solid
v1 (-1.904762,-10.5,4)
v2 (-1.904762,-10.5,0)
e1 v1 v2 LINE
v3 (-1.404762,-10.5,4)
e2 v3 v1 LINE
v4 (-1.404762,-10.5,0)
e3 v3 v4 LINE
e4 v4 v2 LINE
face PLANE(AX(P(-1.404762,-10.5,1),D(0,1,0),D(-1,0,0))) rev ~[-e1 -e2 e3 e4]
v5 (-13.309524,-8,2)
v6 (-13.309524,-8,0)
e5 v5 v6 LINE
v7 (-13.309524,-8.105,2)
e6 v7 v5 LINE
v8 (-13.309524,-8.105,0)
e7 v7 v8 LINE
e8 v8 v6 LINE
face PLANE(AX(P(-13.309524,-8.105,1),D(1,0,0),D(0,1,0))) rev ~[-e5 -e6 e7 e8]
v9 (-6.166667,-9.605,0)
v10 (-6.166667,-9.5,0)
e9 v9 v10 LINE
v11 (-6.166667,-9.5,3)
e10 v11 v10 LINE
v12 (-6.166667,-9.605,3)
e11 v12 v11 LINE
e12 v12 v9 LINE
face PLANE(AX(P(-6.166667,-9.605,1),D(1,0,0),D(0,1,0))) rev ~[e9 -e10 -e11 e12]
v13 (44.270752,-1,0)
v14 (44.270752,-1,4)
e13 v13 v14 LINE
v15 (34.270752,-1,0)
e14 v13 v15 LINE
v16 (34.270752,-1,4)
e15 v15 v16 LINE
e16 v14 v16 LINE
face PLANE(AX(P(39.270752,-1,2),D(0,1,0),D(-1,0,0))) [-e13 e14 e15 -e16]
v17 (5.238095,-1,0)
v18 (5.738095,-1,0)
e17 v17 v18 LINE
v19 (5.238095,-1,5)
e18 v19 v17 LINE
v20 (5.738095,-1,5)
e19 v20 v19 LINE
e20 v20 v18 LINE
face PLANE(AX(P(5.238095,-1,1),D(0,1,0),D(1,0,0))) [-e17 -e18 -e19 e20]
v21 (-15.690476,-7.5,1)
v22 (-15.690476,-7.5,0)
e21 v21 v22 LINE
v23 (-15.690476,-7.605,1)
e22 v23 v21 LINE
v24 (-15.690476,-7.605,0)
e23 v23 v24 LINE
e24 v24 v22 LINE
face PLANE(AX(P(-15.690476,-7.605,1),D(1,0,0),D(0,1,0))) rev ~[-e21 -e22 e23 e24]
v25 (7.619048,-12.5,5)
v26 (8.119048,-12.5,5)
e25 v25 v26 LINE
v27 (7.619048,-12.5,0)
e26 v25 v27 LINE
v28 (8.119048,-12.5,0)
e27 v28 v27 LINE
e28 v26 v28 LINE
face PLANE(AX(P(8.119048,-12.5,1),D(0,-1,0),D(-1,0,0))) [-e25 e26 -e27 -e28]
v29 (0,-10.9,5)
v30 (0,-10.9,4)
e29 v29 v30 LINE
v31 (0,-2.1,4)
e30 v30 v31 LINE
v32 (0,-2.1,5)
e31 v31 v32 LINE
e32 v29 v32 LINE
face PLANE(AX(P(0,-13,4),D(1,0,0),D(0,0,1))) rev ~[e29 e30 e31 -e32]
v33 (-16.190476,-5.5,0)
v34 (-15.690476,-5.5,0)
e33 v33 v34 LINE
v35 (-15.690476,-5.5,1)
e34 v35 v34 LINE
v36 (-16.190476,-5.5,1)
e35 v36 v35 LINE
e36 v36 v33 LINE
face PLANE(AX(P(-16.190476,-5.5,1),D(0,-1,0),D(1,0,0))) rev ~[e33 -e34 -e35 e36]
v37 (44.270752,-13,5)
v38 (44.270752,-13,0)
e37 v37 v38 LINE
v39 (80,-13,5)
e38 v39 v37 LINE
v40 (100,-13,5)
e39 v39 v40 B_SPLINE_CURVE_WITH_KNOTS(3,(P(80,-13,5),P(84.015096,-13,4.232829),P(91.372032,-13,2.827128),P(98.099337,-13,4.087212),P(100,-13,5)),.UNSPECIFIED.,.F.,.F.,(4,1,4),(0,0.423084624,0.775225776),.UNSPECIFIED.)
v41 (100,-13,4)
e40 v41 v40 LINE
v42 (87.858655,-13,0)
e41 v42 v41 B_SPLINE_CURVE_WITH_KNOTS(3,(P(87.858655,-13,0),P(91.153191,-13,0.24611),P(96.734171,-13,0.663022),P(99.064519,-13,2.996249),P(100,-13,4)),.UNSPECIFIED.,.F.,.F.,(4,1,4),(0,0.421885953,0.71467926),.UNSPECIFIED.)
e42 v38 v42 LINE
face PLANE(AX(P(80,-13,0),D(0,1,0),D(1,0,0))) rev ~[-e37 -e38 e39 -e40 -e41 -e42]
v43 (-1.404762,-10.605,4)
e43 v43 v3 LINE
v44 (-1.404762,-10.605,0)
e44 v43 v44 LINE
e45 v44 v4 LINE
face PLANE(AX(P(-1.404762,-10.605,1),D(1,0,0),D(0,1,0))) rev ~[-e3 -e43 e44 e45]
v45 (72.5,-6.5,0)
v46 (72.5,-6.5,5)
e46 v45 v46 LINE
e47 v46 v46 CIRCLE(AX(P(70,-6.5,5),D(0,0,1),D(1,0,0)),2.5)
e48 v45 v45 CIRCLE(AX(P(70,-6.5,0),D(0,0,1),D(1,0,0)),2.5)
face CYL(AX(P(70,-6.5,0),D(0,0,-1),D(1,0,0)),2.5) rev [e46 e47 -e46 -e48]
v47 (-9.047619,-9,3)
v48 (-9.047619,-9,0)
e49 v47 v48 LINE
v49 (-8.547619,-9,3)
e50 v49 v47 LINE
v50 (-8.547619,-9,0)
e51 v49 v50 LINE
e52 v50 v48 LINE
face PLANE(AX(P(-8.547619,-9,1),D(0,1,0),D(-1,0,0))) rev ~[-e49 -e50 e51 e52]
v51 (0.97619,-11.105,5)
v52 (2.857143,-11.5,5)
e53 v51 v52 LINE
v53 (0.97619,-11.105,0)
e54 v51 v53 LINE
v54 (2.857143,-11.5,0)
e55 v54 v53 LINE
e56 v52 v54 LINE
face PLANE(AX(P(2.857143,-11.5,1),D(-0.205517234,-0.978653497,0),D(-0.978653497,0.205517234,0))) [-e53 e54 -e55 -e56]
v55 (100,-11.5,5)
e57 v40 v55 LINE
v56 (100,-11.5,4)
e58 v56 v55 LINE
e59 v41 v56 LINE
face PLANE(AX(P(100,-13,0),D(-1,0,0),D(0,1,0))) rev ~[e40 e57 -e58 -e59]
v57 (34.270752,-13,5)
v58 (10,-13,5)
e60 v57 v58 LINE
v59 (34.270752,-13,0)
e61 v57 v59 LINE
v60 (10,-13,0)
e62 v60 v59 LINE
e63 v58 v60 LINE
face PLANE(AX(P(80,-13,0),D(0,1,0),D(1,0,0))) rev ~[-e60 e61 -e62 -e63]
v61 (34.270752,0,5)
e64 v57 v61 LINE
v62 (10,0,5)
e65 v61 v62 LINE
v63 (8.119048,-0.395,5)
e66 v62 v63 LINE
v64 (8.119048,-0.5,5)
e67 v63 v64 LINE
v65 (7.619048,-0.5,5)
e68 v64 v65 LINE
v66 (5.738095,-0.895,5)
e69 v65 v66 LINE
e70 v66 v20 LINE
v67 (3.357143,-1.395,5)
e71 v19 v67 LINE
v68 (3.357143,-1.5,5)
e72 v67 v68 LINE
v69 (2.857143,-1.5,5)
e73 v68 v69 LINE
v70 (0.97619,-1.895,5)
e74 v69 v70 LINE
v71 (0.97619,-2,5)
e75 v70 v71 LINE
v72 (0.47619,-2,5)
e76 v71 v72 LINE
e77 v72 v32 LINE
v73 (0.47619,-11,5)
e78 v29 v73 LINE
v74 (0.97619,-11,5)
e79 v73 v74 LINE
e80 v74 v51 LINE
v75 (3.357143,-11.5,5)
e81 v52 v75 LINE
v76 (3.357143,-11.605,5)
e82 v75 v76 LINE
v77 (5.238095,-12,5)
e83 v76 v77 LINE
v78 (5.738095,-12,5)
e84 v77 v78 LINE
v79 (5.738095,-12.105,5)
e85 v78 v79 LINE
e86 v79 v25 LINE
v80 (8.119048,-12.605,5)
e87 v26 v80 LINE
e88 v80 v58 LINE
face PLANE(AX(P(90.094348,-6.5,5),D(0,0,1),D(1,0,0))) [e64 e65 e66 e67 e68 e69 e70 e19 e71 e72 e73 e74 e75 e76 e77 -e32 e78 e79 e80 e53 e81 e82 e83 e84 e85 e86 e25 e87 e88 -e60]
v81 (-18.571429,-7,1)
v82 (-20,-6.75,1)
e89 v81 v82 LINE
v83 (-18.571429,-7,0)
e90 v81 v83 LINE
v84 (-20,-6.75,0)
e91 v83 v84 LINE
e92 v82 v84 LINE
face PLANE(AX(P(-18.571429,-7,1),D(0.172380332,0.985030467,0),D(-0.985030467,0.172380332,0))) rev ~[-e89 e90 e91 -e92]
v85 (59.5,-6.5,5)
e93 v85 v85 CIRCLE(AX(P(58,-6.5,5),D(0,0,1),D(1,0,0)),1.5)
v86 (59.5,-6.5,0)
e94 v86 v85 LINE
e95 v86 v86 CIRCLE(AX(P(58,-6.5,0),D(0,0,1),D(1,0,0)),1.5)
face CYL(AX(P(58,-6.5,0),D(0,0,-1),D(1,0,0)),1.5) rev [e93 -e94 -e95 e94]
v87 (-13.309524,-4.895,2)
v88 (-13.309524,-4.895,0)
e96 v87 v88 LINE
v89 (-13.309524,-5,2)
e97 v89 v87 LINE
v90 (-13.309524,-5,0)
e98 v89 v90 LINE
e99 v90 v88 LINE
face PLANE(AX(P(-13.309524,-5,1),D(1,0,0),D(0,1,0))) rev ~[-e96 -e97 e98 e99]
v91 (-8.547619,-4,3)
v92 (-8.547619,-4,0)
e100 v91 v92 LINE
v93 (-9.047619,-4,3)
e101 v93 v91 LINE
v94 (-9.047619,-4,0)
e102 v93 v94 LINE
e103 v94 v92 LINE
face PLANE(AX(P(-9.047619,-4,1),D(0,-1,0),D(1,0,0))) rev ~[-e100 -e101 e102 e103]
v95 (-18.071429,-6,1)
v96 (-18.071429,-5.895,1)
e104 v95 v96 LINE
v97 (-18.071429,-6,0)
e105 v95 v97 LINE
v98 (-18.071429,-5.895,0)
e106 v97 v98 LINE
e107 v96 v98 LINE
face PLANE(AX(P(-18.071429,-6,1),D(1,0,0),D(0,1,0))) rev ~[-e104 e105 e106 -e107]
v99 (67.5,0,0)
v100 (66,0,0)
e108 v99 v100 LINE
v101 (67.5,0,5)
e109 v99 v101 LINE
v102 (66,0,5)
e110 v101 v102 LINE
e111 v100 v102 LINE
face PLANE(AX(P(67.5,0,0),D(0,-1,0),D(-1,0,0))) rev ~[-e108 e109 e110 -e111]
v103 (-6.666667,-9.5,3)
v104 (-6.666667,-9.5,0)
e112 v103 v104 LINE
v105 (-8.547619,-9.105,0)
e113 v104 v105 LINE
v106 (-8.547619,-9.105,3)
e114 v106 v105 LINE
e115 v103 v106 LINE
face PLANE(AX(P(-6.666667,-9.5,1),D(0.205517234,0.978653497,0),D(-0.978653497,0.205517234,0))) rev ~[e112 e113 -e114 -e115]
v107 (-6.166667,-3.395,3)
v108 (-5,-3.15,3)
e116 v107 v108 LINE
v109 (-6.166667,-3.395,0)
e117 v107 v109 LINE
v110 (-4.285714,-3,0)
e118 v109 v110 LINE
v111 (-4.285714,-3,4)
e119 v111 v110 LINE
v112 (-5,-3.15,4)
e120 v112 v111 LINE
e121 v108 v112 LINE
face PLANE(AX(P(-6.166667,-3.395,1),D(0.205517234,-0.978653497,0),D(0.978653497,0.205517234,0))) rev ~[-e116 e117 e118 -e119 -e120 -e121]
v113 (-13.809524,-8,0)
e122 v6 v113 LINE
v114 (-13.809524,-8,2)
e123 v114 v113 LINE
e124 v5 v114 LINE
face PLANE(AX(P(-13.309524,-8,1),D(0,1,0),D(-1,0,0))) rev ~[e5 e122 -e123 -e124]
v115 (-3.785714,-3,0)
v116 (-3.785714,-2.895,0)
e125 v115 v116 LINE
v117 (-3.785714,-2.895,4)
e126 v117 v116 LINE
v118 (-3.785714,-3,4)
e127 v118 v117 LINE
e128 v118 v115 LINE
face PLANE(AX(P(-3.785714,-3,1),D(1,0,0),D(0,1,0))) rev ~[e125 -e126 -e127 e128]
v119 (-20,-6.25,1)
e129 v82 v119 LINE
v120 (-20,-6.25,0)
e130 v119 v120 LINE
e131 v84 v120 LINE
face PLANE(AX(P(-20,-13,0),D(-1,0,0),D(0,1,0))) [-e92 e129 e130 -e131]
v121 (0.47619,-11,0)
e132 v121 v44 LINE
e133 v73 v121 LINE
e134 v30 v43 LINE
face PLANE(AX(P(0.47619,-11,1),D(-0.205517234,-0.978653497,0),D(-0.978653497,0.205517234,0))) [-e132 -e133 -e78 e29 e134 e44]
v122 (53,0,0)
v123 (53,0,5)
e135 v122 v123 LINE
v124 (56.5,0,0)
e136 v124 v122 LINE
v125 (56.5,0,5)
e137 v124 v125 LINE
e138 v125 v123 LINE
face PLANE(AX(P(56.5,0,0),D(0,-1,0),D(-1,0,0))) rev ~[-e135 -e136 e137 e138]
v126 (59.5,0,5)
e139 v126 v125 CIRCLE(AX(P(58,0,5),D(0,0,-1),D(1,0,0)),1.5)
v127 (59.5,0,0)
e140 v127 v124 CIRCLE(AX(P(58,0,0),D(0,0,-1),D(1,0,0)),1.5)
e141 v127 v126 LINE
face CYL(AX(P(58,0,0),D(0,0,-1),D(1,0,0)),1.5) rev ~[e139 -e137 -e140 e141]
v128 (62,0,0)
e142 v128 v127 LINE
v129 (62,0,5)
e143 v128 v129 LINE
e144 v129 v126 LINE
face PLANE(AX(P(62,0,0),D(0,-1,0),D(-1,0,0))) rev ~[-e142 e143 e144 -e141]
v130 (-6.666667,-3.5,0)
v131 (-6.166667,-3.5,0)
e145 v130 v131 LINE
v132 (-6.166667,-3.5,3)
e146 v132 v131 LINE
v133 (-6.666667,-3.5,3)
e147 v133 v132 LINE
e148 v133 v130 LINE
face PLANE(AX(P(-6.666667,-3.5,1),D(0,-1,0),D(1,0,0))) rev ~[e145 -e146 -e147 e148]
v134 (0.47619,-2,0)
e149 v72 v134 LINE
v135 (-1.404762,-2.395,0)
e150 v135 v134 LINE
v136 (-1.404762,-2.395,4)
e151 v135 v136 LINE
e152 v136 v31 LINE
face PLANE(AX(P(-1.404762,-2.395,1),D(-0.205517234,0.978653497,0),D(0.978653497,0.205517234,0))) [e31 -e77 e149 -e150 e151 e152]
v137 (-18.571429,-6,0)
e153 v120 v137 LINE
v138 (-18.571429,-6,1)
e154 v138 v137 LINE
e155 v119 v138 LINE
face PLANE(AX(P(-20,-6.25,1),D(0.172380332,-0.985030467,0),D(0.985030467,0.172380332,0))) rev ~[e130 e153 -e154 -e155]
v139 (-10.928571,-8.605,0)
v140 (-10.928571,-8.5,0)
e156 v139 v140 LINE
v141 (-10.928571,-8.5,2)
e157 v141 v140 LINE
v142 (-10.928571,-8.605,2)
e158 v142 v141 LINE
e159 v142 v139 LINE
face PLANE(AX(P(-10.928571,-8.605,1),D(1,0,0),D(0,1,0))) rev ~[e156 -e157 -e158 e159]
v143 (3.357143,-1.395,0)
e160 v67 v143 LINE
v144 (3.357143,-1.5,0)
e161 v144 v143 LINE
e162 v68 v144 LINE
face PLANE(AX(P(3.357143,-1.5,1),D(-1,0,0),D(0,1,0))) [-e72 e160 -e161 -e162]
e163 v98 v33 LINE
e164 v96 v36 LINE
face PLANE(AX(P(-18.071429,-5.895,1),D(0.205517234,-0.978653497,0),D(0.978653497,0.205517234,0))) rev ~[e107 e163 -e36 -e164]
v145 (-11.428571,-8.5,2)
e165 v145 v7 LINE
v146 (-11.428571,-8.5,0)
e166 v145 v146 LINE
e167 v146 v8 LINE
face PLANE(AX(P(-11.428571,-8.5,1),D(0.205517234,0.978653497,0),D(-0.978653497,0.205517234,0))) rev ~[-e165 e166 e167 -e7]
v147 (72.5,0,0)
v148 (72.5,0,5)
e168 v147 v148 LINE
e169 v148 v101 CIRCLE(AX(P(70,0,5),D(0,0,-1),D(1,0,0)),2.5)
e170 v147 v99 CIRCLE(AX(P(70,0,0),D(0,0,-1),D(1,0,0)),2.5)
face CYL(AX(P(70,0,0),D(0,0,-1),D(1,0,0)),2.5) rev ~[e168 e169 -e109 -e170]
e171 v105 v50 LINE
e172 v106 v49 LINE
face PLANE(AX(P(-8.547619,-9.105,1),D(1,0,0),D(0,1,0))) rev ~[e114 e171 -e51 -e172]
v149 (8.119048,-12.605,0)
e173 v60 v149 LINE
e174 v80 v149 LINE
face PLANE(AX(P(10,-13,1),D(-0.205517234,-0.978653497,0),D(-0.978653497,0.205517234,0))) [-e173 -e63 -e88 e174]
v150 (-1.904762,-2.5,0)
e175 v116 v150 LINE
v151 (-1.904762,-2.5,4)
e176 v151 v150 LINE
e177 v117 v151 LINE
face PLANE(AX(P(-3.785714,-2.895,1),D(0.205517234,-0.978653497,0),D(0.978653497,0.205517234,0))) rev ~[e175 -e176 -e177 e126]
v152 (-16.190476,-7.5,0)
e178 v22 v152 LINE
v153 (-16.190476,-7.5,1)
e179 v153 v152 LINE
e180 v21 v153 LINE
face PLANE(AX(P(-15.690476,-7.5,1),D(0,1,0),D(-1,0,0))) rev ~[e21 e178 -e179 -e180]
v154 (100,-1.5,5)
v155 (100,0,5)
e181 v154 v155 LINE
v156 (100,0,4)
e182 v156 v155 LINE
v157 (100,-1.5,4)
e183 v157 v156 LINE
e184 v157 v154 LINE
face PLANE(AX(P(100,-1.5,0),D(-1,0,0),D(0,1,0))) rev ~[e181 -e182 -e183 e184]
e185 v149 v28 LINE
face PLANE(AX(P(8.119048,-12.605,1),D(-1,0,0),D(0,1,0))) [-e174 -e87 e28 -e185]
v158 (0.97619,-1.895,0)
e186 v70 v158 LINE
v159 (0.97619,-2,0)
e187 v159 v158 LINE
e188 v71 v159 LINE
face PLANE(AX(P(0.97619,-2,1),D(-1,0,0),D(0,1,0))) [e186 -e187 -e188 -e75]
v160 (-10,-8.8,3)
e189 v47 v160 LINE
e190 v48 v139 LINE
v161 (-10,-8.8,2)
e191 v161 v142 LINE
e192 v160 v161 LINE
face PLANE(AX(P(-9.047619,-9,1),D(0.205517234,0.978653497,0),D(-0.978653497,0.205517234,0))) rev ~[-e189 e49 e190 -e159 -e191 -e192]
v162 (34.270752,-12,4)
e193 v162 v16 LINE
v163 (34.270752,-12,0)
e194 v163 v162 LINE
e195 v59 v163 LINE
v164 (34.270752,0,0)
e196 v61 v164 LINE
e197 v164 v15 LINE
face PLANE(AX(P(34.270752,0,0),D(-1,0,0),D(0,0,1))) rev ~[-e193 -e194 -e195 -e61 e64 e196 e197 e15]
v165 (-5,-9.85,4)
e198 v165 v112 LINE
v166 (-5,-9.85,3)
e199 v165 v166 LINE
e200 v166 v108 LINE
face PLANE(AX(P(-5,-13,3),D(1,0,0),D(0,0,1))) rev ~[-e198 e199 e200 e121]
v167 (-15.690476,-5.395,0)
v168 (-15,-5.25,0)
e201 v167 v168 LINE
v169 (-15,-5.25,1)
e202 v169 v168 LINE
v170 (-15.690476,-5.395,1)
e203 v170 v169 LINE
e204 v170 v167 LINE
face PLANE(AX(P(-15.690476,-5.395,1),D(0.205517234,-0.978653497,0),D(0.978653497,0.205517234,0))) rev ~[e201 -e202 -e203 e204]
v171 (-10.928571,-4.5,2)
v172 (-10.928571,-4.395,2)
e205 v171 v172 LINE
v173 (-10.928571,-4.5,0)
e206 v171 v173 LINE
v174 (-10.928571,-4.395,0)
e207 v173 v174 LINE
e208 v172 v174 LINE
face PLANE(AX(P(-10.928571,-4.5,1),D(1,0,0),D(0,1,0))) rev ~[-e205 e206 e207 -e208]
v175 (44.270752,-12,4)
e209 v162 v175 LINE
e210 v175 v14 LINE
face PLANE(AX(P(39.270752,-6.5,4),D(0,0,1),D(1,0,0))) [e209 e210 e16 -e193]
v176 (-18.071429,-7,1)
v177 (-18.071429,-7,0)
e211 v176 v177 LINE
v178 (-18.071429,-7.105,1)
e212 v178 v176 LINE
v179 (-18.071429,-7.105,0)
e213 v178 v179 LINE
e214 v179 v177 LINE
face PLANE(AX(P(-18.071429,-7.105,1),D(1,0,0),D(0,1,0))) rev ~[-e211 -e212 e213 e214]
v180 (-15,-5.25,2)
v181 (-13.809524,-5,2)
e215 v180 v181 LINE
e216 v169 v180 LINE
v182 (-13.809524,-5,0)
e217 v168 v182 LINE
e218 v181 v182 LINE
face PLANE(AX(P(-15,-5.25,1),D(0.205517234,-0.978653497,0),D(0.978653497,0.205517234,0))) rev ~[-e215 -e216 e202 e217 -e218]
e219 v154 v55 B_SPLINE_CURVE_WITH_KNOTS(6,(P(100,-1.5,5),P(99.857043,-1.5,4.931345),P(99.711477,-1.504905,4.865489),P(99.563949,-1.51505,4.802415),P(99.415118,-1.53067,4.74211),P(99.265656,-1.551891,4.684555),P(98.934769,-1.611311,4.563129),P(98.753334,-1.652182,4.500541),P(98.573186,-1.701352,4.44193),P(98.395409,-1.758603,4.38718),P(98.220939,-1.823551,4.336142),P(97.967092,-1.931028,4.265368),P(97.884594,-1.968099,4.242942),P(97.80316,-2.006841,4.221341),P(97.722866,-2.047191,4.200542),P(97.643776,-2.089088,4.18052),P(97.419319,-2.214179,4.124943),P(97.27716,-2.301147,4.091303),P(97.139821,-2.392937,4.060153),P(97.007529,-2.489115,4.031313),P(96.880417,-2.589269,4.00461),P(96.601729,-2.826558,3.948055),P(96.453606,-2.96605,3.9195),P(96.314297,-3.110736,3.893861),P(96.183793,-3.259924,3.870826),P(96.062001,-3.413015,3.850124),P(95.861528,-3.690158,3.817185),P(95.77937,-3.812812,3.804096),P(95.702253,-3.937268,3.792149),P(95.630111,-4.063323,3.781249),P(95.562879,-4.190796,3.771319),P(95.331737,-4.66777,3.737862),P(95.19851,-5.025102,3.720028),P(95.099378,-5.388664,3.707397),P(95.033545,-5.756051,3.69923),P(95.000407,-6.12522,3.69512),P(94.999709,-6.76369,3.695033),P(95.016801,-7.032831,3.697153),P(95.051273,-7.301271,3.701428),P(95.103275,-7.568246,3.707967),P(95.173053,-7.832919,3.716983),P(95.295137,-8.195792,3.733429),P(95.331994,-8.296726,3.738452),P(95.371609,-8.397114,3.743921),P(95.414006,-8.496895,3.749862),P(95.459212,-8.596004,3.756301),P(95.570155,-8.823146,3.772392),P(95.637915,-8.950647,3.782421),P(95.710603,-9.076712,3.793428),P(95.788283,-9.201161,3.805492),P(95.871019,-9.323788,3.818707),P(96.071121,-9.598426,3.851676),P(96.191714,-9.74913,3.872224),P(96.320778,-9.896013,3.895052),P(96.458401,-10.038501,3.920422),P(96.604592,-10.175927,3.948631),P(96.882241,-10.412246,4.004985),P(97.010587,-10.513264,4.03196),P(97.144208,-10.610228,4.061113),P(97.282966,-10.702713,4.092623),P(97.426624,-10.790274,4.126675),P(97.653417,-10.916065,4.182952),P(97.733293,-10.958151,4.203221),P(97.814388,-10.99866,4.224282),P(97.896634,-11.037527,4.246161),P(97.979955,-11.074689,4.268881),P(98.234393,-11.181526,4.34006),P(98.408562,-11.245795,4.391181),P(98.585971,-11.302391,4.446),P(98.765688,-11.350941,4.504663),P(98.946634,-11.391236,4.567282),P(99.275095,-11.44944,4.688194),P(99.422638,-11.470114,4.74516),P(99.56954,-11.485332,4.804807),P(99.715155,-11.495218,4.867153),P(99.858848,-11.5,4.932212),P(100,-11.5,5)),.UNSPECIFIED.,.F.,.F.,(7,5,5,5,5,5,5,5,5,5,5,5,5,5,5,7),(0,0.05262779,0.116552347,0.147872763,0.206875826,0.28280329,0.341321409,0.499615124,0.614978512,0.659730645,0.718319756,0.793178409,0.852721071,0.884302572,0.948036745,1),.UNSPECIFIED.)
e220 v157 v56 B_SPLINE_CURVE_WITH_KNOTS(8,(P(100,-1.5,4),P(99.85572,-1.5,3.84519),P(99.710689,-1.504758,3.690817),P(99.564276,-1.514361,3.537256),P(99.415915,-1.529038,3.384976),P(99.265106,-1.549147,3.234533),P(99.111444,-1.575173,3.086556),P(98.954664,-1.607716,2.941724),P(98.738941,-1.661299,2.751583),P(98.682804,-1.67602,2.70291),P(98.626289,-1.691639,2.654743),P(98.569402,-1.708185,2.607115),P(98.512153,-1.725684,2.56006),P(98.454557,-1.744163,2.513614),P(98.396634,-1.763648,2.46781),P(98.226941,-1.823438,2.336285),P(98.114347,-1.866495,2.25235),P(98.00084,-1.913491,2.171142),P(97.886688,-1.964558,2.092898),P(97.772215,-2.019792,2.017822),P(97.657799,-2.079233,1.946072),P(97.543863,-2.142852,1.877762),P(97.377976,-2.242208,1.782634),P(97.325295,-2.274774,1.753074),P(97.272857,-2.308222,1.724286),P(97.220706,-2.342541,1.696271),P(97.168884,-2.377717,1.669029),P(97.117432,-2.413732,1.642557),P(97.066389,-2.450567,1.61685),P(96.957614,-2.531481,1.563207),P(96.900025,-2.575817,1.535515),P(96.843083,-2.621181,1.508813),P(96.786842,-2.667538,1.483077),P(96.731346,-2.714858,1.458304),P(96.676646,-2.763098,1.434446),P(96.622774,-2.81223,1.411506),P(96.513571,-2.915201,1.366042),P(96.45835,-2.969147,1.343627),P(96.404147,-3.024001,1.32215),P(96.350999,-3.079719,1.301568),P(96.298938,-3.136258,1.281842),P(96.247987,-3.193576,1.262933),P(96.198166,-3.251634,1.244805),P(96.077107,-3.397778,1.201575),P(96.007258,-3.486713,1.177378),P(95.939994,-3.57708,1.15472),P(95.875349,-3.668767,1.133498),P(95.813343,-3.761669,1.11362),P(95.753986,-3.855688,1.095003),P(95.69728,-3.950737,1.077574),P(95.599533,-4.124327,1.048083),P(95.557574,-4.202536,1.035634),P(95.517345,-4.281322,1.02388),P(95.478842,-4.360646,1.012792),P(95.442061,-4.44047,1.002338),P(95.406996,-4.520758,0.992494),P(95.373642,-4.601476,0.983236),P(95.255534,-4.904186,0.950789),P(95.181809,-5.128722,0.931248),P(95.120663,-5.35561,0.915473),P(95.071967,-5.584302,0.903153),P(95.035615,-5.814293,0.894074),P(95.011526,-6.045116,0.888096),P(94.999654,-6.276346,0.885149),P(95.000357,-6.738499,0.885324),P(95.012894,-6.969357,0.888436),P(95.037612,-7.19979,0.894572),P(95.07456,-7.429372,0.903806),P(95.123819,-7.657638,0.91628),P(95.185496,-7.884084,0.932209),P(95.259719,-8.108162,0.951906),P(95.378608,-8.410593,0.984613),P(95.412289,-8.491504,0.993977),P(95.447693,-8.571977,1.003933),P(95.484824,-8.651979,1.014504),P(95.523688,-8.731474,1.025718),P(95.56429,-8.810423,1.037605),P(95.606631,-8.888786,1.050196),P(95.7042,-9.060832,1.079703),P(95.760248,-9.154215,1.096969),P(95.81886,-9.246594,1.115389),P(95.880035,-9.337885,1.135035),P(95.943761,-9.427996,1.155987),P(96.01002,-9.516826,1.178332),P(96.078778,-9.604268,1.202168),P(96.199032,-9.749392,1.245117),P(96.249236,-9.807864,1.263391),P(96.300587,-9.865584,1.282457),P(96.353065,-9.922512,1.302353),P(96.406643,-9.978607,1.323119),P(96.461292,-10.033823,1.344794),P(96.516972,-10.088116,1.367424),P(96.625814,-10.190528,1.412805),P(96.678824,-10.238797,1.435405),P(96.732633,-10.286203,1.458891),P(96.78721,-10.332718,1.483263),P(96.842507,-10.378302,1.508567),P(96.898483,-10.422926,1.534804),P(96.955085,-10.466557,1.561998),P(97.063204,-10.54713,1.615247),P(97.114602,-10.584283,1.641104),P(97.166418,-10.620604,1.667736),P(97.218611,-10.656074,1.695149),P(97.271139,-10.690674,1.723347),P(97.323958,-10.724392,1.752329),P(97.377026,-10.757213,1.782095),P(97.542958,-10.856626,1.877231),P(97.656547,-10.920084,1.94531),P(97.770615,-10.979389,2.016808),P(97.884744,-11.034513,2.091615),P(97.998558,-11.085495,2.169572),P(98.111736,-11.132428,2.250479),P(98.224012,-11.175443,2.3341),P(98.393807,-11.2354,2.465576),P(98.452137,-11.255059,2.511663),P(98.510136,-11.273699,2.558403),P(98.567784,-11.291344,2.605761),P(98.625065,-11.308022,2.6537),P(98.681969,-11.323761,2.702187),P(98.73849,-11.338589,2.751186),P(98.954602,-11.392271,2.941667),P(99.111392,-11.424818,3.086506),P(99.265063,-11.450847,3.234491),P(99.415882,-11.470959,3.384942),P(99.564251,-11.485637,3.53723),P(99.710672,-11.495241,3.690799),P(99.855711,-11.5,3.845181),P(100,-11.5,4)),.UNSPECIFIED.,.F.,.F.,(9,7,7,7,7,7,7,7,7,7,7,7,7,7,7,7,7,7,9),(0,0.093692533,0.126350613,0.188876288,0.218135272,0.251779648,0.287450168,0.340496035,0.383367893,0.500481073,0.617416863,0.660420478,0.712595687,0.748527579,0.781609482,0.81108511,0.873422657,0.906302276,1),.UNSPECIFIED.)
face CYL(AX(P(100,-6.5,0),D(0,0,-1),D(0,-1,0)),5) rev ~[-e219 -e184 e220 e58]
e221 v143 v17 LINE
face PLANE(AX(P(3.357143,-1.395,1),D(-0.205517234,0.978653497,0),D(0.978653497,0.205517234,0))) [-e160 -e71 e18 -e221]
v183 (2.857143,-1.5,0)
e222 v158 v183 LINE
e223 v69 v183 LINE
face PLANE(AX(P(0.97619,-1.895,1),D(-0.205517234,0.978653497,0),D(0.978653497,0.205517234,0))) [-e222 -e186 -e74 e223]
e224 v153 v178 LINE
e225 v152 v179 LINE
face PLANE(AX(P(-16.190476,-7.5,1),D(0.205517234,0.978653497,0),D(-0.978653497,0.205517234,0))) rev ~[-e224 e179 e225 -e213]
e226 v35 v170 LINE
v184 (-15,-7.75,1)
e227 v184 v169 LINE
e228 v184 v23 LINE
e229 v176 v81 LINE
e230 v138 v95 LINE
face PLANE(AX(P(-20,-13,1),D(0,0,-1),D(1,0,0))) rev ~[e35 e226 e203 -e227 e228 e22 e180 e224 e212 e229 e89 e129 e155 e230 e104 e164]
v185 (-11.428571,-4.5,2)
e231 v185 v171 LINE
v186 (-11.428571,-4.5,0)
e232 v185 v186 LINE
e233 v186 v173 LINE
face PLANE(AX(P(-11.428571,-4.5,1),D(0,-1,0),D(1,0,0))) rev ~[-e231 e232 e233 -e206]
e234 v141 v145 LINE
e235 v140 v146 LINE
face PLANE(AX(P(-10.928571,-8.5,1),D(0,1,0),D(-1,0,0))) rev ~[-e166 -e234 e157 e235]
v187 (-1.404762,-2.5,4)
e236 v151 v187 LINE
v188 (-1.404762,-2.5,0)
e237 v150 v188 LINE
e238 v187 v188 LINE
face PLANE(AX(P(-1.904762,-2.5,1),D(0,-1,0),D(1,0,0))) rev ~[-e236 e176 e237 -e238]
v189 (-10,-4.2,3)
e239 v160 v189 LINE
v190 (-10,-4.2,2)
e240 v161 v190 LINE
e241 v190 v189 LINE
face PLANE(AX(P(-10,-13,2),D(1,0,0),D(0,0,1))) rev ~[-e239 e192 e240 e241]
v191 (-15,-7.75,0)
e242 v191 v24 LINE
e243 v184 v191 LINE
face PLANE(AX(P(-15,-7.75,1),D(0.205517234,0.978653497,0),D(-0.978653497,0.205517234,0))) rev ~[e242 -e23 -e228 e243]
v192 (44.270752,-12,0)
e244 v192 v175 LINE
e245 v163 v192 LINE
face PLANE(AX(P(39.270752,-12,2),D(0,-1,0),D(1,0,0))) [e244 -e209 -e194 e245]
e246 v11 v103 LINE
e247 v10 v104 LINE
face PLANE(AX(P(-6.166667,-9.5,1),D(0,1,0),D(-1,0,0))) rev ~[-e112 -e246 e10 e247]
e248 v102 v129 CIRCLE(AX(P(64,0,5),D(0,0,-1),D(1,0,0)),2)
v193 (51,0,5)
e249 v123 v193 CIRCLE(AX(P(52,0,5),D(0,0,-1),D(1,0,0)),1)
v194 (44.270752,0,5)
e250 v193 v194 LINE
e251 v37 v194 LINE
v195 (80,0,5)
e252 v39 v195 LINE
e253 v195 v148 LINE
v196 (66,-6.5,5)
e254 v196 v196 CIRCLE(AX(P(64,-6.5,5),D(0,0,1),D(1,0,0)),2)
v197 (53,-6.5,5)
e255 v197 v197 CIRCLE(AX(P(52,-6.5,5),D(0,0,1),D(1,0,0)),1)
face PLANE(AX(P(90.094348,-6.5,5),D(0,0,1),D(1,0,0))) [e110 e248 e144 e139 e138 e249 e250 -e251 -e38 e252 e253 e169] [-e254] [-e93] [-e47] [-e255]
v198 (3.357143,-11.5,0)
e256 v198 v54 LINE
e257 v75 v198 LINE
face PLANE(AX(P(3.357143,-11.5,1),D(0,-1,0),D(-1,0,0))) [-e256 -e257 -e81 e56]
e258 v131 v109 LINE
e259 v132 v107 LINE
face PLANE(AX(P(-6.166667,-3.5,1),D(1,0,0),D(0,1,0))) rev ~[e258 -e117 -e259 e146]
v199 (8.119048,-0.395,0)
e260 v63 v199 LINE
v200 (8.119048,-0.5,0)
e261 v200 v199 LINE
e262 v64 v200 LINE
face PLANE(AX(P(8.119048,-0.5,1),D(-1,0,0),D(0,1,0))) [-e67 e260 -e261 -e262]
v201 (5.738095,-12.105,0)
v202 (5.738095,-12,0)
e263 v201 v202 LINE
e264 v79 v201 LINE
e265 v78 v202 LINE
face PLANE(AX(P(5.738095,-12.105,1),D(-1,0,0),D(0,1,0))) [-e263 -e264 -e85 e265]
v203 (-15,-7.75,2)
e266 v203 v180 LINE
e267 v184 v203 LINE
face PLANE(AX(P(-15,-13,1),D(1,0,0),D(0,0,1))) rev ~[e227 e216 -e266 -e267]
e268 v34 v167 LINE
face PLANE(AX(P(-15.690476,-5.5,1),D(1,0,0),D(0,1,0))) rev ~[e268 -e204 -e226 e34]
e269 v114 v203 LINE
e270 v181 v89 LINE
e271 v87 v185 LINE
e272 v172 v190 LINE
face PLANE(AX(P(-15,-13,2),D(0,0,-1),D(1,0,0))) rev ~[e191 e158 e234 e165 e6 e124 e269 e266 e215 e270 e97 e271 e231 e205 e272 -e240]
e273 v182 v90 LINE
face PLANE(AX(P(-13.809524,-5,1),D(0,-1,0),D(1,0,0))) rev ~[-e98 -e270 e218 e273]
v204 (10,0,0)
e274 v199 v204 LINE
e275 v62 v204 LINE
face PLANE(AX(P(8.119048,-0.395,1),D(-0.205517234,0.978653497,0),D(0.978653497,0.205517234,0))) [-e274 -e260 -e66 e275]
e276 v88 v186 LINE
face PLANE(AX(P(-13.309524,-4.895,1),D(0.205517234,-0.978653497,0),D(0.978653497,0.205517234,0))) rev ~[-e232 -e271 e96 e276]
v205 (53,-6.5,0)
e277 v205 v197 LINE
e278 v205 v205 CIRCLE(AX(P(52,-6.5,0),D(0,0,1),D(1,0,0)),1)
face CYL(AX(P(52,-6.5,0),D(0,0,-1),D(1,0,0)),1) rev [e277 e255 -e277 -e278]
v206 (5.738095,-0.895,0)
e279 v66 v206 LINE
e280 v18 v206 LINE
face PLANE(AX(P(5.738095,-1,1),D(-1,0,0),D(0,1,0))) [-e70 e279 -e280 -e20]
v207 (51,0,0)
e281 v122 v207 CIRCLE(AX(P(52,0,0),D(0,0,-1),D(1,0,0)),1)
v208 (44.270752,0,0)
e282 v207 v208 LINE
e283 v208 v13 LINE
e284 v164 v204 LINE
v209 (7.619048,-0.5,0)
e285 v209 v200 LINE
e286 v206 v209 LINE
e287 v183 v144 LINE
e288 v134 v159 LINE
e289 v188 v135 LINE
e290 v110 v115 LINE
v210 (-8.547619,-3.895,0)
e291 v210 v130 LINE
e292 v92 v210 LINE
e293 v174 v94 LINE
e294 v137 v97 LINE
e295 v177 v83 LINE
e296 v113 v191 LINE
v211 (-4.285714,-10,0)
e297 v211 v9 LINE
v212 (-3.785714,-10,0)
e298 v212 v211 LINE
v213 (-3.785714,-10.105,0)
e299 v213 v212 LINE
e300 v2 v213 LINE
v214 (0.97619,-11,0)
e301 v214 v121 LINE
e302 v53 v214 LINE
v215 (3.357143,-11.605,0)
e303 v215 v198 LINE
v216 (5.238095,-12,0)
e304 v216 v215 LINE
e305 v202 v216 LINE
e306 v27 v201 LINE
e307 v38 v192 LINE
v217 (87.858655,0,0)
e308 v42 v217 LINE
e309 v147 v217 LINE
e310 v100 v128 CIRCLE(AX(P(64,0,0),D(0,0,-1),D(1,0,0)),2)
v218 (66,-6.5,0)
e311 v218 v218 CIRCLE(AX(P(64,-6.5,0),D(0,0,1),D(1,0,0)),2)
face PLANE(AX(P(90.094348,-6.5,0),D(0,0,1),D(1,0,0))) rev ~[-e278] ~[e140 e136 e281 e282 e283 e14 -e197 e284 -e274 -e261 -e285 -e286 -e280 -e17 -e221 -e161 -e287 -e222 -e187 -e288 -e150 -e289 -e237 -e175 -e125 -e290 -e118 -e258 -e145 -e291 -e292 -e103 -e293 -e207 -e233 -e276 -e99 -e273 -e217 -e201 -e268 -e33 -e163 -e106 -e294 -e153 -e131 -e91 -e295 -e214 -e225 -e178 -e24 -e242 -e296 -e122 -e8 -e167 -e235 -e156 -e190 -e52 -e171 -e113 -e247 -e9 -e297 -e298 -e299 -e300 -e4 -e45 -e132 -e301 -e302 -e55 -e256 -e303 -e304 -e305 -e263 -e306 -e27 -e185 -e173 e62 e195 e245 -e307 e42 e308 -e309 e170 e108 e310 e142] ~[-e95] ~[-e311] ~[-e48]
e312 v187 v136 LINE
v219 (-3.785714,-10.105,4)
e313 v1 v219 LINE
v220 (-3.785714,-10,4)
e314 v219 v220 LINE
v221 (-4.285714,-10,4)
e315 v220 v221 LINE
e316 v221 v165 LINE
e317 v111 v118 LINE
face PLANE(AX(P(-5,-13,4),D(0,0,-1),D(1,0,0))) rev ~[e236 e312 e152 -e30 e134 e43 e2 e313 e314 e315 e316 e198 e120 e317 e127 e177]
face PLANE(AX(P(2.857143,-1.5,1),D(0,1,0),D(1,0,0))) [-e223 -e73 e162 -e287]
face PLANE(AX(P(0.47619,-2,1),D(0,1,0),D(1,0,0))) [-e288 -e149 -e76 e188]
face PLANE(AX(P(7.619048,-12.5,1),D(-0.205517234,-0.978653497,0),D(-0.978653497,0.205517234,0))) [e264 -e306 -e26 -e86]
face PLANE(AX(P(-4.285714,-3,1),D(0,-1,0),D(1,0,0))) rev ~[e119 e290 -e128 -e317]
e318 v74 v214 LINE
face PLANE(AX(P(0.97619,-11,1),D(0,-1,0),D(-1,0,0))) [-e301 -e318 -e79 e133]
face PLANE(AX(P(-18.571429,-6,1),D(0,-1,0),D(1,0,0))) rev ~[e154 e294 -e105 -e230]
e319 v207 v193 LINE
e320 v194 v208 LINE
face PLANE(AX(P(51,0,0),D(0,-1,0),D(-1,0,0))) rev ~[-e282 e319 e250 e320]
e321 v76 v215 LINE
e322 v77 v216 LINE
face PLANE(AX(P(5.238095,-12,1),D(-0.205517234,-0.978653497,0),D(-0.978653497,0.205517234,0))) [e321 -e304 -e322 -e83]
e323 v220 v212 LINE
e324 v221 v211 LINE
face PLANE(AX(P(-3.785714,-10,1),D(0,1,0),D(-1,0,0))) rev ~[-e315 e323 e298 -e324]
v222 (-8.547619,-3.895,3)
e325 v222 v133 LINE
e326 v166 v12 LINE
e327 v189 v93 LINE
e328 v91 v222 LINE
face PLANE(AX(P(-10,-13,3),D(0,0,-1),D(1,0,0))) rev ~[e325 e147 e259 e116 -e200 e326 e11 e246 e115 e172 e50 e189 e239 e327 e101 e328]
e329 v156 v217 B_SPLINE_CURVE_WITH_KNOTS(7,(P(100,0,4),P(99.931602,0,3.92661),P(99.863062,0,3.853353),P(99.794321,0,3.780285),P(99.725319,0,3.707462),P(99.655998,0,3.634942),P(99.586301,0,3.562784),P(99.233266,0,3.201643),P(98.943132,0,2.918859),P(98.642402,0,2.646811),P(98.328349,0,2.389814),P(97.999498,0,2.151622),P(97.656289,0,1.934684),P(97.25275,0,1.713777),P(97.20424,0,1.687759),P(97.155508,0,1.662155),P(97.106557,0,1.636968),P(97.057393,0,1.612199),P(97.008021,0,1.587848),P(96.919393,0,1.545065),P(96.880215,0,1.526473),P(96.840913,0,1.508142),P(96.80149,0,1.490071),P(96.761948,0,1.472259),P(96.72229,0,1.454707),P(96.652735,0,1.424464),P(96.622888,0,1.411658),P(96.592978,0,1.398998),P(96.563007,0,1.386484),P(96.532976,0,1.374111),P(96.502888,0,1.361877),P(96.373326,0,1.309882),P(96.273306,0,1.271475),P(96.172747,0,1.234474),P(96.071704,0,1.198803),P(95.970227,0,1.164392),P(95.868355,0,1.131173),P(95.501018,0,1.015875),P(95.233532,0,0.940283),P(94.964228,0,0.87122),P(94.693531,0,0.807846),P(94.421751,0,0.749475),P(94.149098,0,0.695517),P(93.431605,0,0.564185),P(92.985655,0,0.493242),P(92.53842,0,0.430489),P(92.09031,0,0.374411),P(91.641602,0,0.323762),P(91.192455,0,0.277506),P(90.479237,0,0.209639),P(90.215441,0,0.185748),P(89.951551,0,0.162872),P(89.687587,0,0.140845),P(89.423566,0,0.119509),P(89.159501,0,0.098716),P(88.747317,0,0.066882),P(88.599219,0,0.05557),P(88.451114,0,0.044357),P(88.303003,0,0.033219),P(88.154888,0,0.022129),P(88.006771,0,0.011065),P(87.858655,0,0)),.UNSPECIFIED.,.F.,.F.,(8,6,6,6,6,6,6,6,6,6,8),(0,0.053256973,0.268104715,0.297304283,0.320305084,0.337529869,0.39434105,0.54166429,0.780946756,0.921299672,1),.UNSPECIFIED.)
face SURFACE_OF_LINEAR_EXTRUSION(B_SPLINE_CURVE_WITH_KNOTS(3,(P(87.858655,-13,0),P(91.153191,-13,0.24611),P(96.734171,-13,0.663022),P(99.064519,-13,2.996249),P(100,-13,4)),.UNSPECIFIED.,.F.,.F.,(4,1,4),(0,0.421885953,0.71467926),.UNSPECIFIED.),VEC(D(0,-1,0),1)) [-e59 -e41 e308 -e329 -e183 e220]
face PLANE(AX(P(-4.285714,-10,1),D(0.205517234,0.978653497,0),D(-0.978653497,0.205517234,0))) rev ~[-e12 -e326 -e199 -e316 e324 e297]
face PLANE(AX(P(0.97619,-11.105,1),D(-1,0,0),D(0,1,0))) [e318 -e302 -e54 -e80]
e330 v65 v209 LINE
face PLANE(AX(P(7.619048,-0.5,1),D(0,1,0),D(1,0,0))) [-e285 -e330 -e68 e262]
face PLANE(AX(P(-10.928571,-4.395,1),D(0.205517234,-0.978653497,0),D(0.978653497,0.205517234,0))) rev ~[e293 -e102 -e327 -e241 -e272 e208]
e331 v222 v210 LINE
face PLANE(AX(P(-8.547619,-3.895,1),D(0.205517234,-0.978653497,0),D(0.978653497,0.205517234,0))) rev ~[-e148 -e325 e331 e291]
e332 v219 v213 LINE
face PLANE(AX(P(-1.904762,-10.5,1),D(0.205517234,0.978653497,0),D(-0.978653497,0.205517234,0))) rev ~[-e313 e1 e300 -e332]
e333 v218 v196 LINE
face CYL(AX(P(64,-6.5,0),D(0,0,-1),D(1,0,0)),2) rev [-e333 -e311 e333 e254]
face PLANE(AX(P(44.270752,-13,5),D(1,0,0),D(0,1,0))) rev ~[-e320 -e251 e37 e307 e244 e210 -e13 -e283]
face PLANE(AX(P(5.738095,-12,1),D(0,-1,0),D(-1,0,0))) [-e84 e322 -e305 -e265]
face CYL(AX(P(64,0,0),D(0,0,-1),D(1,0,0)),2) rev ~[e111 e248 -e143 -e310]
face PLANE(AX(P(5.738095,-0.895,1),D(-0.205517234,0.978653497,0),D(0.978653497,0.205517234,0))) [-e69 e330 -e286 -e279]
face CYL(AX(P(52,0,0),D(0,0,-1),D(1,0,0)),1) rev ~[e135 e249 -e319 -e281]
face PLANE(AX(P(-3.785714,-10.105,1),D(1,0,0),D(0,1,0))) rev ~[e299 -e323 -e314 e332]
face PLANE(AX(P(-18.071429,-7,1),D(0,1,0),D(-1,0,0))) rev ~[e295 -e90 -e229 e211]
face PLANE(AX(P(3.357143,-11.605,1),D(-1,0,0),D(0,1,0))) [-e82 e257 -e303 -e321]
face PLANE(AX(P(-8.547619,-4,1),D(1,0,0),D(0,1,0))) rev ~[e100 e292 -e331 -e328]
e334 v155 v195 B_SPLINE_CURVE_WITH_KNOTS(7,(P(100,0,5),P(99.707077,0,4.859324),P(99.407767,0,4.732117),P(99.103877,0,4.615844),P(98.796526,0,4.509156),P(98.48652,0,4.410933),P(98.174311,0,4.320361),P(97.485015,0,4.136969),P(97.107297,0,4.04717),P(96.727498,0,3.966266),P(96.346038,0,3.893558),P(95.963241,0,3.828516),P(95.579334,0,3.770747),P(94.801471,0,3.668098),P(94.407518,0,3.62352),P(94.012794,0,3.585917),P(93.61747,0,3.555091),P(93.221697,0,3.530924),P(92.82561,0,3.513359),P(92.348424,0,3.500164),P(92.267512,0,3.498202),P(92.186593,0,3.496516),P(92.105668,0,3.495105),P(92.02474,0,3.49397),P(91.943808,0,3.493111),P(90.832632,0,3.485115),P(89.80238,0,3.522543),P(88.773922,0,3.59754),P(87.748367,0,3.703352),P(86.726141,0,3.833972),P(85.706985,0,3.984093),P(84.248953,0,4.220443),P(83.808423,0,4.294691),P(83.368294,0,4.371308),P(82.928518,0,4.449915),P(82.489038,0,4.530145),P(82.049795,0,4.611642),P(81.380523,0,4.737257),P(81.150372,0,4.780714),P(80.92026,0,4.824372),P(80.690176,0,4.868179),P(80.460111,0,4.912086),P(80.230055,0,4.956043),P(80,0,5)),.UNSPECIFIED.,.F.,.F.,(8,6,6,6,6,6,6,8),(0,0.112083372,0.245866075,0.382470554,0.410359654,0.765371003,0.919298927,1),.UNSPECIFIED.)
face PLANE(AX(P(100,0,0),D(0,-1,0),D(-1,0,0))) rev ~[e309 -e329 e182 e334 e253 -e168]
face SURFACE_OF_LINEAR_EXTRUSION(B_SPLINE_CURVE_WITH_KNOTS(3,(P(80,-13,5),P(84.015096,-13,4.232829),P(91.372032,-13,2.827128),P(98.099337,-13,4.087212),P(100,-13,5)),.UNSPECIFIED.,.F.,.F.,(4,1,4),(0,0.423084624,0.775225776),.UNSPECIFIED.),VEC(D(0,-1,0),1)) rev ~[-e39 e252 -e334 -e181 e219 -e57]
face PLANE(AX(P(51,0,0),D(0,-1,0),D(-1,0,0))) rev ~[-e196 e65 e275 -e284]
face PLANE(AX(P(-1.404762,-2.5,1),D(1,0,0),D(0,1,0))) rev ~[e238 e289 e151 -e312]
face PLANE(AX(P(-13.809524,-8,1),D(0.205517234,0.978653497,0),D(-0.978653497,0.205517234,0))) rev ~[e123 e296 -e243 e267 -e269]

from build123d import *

# Parameters (mm, degrees)
F0_R          = 1
F0_R_2        = 1.5
F0_R_3        = 2
F0_R_4        = 2.5
F0_W          = 20
F0_H          = 13
F1_DEPTH      = 5
F2_DEPTH      = 5
F4_DEPTH      = 25
F6_DEPTH      = 25
F6_DEPTH_BACK = 25
F7_W          = 10
F7_H          = 13
F8_DEPTH      = 1
F9_W          = 10
F9_H          = 4
F10_DEPTH     = 1
F11_W         = 10
F11_H         = 4
F12_DEPTH     = 1


with BuildPart() as f1:
    # F0 (on Top) → F1 (new body)
    with BuildSketch(Plane.XY):
        with BuildLine():
            Line((51, 0), (0, 0))
            Line((0, 0), (0, -13))
            Line((0, -13), (80, -13))
            Line((80, -13), (80, 0))
            Line((80, 0), (72.5, 0))
            ThreePointArc((72.5, 0), (70, -2.5), (67.5, 0))
            Line((67.5, 0), (66, 0))
            ThreePointArc((66, 0), (64, -2), (62, 0))
            Line((62, 0), (59.5, 0))
            ThreePointArc((59.5, 0), (58, -1.5), (56.5, 0))
            Line((56.5, 0), (53, 0))
            ThreePointArc((53, 0), (52, -1), (51, 0))
        make_face()
        with Locations((52, -6.5)):
            Circle(F0_R, mode=Mode.SUBTRACT)
        with Locations((58, -6.5)):
            Circle(F0_R_2, mode=Mode.SUBTRACT)
        with Locations((64, -6.5)):
            Circle(F0_R_3, mode=Mode.SUBTRACT)
        with Locations((70, -6.5)):
            Circle(F0_R_4, mode=Mode.SUBTRACT)
        with Locations((-10, -6.5)):
            Rectangle(F0_W, F0_H)
    extrude(amount=F1_DEPTH)

    # F0 (on Top) → F2 (join)
    with BuildSketch(Plane.XY):
        with BuildLine():
            Line((80, 0), (80, -13))
            Line((80, -13), (100, -13))
            Line((100, -13), (100, -11.5))
            ThreePointArc((100, -11.5), (95, -6.5), (100, -1.5))
            Line((100, -1.5), (100, 0))
            Line((100, 0), (80, 0))
        make_face()
    extrude(amount=F2_DEPTH)

    # F3 (on face) → F4 (cut)
    with BuildSketch(Plane.XZ.offset(13)):
        with BuildLine():
            add(Edge.make_bspline(
                [(100, 5), (101.2132067544, 5.5826393103), (101.9557552568, 6.3039713147), (102.6983037591, 7.0253033191)],
                knots=[0.7752257758, 0.7752257758, 0.7752257758, 0.7752257758, 1, 1, 1, 1], degree=3))
            Line((100, 5), (100, 4))
            add(Edge.make_bspline(
                [(100, 4), (100.9116064462, 4.9781336211), (101.8049551027, 6.0017184701), (102.6983037591, 7.0253033191)],
                knots=[0.7146792603, 0.7146792603, 0.7146792603, 0.7146792603, 1, 1, 1, 1], degree=3))
        make_face()
        Polygon((0, 4), (0, 5), (-20, 5), (-20, 1), (-15, 1), (-15, 2), (-10, 2), (-10, 3), (-5, 3), (-5, 4), align=None)
        with BuildLine():
            Line((100, 5), (80, 5))
            add(Edge.make_bspline(
                [(80, 5), (84.0150963882, 4.2328291772), (91.3720317074, 2.8271278998), (98.0993371218, 4.0872117184), (100, 5)],
                knots=[0, 0, 0, 0, 0.4230846239, 0.7752257758, 0.7752257758, 0.7752257758, 0.7752257758], degree=3))
        make_face()
        with BuildLine():
            Line((100, 0), (100, 4))
            add(Edge.make_bspline(
                [(87.8586545587, 0), (91.1531912492, 0.2461096824), (96.7341711942, 0.6630220834), (99.0645185264, 2.9962490008), (100, 4)],
                knots=[0, 0, 0, 0, 0.4218859534, 0.7146792603, 0.7146792603, 0.7146792603, 0.7146792603], degree=3))
            Line((87.8586545587, 0), (100, 0))
        make_face()
    extrude(amount=-F4_DEPTH, mode=Mode.SUBTRACT)

    # F5 (on face) → F6 (cut, two sides)
    with BuildSketch(Plane.XY.offset(1)) as f6_sk:
        Polygon((8.119047619, -0.395), (10, 0), (10, 3.0941735022), (-21.7320173979, 3.0941735022), (-21.7320173979, -15.9472320229), (10, -15.9472320229), (10, -13), (8.119047619, -12.605), (8.119047619, -12.5), (7.619047619, -12.5), (5.7380952381, -12.105), (5.7380952381, -12), (5.2380952381, -12), (3.3571428571, -11.605), (3.3571428571, -11.5), (2.8571428571, -11.5), (0.9761904762, -11.105), (0.9761904762, -11), (0.4761904762, -11), (-1.4047619048, -10.605), (-1.4047619048, -10.5), (-1.9047619048, -10.5), (-3.7857142857, -10.105), (-3.7857142857, -10), (-4.2857142857, -10), (-6.1666666667, -9.605), (-6.1666666667, -9.5), (-6.6666666667, -9.5), (-8.5476190476, -9.105), (-8.5476190476, -9), (-9.0476190476, -9), (-10.9285714286, -8.605), (-10.9285714286, -8.5), (-11.4285714286, -8.5), (-13.3095238095, -8.105), (-13.3095238095, -8), (-13.8095238095, -8), (-15, -7.75), (-15, -13), (-20, -13), (-20, -6.75), (-20, -6.5), (-20, -6.25), (-20, 0), (-15, 0), (-15, -5.25), (-13.8095238095, -5), (-13.3095238095, -5), (-13.3095238095, -4.895), (-11.4285714286, -4.5), (-10.9285714286, -4.5), (-10.9285714286, -4.395), (-9.0476190476, -4), (-8.5476190476, -4), (-8.5476190476, -3.895), (-6.6666666667, -3.5), (-6.1666666667, -3.5), (-6.1666666667, -3.395), (-4.2857142857, -3), (-3.7857142857, -3), (-3.7857142857, -2.895), (-1.9047619048, -2.5), (-1.4047619048, -2.5), (-1.4047619048, -2.395), (0.4761904762, -2), (0.9761904762, -2), (0.9761904762, -1.895), (2.8571428571, -1.5), (3.3571428571, -1.5), (3.3571428571, -1.395), (5.2380952381, -1), (5.7380952381, -1), (5.7380952381, -0.895), (7.619047619, -0.5), (8.119047619, -0.5), align=None)
        Polygon((-15.6904761905, -5.395), (-15, -5.25), (-15, 0), (-20, 0), (-20, -6.25), (-18.5714285714, -6), (-18.0714285714, -6), (-18.0714285714, -5.895), (-16.1904761905, -5.5), (-15.6904761905, -5.5), align=None)
        Polygon((-15, -13), (-15, -7.75), (-15.6904761905, -7.605), (-15.6904761905, -7.5), (-16.1904761905, -7.5), (-18.0714285714, -7.105), (-18.0714285714, -7), (-18.5714285714, -7), (-20, -6.75), (-20, -13), align=None)
    extrude(amount=-F6_DEPTH, mode=Mode.SUBTRACT)
    extrude(f6_sk.sketch, amount=F6_DEPTH_BACK, mode=Mode.SUBTRACT)

    # F7 (on face) → F8 (cut)
    with BuildSketch(Plane.XY.offset(5)):
        with Locations((39.2707522213, -6.5)):
            Rectangle(F7_W, F7_H)
    extrude(amount=-F8_DEPTH, mode=Mode.SUBTRACT)

    # F9 (on face) → F10 (cut)
    with BuildSketch(Plane.XZ.offset(13)):
        with Locations((39.2707522213, 2)):
            Rectangle(F9_W, F9_H)
    extrude(amount=-F10_DEPTH, mode=Mode.SUBTRACT)

    # F11 (on face) → F12 (cut)
    with BuildSketch(Plane(origin=(0, 0, 0), x_dir=(-1, 0, 0), z_dir=(0, 1, 0))):
        with Locations((-39.2707522213, 2)):
            Rectangle(F11_W, F11_H)
    extrude(amount=-F12_DEPTH, mode=Mode.SUBTRACT)


solid = f1.part
